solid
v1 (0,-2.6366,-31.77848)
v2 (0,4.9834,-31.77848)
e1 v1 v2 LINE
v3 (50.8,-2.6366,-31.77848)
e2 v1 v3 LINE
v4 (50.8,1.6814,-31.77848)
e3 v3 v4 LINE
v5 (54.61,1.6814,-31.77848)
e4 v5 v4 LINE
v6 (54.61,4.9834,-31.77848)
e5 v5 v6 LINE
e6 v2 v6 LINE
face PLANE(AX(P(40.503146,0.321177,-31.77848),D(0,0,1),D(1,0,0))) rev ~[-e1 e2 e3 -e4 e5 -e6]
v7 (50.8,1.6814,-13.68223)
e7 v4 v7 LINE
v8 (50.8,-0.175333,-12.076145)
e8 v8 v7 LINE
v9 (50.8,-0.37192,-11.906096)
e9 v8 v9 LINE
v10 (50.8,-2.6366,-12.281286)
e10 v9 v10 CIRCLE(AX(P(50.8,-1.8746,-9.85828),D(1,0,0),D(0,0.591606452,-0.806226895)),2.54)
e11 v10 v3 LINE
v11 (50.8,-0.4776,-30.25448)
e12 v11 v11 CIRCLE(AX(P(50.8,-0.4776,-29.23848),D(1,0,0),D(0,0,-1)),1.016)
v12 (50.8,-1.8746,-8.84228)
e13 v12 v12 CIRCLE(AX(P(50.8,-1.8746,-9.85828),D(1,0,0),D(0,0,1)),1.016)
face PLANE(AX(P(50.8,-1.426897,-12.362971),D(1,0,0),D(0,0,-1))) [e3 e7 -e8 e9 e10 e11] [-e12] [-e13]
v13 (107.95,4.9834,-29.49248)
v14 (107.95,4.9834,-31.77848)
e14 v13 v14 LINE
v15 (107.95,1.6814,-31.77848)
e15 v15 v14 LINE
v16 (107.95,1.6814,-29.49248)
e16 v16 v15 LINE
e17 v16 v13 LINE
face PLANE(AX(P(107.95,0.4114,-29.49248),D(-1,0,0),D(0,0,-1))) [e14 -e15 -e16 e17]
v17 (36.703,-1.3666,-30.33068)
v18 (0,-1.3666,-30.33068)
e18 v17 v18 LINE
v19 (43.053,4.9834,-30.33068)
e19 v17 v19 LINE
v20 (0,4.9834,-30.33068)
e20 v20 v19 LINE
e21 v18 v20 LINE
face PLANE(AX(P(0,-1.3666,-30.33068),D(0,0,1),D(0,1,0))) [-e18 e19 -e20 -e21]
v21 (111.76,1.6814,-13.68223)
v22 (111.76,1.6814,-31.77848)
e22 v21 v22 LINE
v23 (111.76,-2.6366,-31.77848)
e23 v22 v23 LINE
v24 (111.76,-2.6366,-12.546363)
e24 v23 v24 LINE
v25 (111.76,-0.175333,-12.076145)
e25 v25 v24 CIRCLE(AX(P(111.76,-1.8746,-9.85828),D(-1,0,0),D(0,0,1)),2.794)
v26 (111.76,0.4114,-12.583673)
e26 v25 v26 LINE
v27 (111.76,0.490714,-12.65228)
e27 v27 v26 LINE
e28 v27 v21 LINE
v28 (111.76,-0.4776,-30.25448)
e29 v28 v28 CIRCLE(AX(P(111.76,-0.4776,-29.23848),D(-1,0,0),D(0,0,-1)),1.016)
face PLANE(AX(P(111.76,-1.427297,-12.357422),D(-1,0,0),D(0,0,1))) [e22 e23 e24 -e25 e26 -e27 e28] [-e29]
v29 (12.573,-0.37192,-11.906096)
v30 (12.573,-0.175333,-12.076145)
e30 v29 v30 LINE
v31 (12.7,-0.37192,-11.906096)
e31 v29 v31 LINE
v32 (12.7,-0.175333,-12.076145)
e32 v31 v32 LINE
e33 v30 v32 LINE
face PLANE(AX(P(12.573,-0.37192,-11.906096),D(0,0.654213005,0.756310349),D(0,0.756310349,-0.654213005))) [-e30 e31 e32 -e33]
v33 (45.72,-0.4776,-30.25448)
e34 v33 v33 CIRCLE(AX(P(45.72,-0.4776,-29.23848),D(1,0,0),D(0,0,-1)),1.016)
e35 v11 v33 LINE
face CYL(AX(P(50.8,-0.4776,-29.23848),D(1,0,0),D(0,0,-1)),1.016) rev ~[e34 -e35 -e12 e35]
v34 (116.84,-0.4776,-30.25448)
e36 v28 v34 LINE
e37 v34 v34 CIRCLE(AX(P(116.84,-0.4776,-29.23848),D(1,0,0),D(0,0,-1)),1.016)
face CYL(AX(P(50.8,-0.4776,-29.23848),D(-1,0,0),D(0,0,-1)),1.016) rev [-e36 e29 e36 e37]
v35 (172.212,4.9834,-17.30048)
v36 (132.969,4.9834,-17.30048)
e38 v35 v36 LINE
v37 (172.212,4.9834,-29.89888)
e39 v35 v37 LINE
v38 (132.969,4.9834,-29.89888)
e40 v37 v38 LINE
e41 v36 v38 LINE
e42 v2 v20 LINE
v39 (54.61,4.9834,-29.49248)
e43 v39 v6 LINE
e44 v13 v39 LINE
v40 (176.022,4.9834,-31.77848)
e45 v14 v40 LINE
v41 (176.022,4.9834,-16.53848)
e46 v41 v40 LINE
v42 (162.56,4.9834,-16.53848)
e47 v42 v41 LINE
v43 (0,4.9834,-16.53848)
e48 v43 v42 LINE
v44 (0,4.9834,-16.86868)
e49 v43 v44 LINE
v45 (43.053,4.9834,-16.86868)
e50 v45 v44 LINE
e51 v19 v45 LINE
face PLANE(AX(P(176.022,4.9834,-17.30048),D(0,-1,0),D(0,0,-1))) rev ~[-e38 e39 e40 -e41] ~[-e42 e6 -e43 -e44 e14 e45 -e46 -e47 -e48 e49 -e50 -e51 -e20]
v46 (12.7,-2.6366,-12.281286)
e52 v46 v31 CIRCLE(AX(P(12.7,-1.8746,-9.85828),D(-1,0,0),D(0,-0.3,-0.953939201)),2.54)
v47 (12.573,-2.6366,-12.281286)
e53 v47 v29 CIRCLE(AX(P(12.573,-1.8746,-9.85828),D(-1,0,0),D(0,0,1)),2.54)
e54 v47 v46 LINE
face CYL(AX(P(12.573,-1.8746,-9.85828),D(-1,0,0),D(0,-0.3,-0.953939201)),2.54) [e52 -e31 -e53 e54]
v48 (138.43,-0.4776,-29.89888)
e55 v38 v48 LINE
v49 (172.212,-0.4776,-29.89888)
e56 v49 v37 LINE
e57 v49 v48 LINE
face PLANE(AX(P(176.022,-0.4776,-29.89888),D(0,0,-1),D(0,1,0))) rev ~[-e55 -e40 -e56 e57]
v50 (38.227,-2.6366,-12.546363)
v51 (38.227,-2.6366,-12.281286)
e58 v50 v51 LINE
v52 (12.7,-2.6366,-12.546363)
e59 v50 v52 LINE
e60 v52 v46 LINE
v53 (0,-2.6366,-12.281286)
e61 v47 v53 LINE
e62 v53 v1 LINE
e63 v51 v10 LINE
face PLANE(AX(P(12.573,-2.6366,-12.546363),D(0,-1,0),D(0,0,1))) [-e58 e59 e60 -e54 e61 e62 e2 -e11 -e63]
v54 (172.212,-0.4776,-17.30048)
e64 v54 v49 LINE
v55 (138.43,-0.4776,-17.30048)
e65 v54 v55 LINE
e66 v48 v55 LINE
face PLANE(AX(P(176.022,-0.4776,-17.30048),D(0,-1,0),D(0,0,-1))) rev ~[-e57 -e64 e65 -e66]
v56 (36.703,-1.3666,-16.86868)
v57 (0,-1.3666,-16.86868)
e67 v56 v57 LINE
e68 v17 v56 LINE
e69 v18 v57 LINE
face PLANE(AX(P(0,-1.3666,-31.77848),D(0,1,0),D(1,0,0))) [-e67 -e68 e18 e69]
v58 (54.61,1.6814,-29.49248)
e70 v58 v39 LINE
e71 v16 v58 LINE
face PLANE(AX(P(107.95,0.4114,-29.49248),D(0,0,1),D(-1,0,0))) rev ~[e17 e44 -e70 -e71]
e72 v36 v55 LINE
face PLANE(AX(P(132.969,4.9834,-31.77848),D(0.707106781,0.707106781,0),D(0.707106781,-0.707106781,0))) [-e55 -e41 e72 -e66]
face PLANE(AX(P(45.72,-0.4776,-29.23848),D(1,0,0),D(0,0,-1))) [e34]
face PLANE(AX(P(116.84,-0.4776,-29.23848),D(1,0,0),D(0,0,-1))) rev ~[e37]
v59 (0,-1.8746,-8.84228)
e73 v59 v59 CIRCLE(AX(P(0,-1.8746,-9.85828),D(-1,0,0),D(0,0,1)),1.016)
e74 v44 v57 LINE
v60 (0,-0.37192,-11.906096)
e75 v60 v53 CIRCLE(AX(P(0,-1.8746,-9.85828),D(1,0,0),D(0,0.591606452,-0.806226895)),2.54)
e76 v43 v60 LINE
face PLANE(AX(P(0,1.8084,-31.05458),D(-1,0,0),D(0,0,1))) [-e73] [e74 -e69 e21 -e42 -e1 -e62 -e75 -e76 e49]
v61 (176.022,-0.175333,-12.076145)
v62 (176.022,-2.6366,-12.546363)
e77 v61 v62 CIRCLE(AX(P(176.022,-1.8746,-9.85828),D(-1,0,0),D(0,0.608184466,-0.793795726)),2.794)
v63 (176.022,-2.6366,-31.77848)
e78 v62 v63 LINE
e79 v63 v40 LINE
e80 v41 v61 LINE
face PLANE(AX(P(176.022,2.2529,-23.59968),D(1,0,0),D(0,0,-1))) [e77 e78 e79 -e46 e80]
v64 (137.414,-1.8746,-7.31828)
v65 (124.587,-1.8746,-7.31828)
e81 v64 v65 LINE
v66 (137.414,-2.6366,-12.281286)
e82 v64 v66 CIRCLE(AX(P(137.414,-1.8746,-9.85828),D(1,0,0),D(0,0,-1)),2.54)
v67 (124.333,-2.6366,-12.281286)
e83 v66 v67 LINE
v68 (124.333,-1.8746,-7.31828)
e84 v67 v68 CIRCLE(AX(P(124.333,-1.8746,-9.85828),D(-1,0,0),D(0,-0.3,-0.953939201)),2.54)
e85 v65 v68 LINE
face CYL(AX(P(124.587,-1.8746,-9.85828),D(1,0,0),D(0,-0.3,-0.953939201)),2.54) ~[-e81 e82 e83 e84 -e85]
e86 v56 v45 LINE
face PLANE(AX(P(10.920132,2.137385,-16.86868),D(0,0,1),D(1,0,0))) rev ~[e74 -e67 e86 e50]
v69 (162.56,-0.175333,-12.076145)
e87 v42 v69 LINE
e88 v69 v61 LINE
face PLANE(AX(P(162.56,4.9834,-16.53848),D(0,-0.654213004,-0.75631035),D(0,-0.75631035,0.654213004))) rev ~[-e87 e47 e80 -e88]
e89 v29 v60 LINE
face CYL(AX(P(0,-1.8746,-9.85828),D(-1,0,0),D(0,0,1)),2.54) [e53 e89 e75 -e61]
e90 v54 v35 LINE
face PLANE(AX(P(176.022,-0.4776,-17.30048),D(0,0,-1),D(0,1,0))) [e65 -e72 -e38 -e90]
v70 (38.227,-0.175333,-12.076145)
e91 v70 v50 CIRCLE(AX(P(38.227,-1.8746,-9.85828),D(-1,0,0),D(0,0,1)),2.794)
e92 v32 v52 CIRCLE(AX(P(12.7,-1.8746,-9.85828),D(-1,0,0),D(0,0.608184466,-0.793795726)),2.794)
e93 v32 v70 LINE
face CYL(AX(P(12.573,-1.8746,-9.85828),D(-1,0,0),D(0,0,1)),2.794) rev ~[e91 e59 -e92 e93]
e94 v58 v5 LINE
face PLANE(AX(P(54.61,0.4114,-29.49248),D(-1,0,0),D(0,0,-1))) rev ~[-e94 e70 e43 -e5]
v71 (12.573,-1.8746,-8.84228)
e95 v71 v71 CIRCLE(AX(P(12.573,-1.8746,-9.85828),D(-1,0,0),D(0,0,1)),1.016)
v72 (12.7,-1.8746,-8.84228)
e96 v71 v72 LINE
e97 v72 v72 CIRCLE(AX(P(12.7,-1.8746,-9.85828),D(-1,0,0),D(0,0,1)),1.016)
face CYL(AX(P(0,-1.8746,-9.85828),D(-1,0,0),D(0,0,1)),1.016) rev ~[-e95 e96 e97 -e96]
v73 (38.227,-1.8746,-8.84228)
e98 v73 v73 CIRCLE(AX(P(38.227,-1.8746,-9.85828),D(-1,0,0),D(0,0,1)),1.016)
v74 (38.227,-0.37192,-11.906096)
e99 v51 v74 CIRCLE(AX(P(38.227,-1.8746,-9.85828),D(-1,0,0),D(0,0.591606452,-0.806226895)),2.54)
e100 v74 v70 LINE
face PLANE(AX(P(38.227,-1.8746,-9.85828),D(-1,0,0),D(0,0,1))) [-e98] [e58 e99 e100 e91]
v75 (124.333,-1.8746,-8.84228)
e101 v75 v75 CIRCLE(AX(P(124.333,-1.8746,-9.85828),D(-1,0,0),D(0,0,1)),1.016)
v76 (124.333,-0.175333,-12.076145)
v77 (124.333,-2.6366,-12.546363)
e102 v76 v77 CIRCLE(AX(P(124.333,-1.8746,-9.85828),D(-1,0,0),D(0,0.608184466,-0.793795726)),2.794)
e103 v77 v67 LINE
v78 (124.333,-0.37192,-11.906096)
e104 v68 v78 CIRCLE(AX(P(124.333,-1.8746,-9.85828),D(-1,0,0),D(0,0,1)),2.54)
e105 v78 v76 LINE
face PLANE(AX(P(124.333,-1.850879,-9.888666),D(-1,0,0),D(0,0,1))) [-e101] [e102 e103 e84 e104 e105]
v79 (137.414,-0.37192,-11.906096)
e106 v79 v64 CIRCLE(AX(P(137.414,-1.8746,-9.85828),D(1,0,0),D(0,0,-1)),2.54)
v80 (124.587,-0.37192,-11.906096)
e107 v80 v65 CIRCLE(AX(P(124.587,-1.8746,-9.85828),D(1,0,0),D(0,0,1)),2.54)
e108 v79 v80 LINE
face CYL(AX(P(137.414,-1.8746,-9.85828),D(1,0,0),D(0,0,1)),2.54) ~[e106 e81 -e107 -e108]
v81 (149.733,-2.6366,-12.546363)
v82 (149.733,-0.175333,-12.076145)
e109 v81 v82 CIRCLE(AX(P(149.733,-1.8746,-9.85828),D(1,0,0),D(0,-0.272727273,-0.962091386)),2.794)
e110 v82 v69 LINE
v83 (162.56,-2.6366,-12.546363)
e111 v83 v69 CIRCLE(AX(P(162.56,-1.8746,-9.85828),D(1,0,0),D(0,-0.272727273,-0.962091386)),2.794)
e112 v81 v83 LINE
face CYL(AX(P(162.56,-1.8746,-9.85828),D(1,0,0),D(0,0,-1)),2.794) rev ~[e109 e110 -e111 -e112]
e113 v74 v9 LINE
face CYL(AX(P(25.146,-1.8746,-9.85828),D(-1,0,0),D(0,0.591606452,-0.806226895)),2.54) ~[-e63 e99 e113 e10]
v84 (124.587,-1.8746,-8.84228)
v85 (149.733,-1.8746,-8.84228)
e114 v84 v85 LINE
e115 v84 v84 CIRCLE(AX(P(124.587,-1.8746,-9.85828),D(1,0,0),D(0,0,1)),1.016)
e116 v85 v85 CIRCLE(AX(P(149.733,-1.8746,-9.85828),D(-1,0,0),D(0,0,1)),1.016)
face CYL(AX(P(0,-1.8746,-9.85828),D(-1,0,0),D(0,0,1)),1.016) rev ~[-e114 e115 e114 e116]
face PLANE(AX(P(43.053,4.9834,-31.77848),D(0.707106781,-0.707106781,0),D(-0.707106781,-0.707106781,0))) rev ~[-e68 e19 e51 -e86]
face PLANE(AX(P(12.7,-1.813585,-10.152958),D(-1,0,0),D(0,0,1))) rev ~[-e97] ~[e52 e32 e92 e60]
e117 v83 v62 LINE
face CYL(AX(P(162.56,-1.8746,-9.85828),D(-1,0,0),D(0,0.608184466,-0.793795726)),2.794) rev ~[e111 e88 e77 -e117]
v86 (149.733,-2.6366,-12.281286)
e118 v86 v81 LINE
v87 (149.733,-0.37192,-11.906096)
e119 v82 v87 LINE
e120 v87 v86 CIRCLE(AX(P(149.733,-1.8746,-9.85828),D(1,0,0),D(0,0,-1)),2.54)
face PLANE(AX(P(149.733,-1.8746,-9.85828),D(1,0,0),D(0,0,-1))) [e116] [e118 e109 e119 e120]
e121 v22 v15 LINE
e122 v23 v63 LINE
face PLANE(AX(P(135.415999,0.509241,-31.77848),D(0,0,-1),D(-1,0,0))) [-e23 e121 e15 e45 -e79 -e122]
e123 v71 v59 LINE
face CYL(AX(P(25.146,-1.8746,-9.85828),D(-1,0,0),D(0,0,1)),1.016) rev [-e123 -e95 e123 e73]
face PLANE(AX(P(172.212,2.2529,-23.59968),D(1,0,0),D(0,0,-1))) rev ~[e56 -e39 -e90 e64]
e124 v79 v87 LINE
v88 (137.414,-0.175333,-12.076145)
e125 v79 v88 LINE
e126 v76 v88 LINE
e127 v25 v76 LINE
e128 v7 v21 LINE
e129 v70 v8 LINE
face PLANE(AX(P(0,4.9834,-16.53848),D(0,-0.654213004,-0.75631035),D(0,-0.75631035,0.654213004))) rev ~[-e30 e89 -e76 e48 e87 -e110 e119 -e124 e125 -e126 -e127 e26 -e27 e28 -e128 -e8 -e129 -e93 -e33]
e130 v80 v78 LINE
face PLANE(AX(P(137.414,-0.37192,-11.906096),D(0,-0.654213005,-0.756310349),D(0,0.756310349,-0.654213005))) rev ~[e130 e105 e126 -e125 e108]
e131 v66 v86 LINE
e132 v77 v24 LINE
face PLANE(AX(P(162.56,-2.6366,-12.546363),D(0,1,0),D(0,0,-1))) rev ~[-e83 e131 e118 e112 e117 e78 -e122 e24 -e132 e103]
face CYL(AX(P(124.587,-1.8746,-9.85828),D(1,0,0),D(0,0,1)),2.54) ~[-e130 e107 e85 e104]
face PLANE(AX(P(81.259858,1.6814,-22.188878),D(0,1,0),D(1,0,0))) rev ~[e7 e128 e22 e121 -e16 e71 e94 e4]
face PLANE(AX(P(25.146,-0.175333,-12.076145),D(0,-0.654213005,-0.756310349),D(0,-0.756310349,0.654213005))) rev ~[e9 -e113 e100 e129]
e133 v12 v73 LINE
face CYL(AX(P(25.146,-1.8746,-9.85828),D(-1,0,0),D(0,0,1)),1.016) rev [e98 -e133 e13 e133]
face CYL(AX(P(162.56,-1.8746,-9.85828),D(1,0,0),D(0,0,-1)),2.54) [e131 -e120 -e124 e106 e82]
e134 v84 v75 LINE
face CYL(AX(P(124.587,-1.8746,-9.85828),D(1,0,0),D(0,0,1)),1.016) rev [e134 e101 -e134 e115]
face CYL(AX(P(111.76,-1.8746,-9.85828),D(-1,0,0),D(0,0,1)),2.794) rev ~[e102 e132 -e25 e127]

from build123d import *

# Parameters (mm, degrees)
SKETCH1_R                = 1.6002
SKETCH1_R_2              = 0.8128
BOSS_EXTRUDE5_DEPTH      = 162.56
CUT_EXTRUDE1_DEPTH       = 14.351
SKETCH3_W                = 0.889
SKETCH3_H                = 5.842
BOSS_EXTRUDE6_DEPTH      = 36.957
SKETCH16_W               = 13.462
SKETCH16_H               = 6.460130881
BOSS_EXTRUDE7_DEPTH      = 33.02
CUT_EXTRUDE4_DEPTH       = 15.24
SKETCH18_W               = 1.778
SKETCH18_H               = 5.842
BOSS_EXTRUDE8_DEPTH      = 38.1
CUT_EXTRUDE5_DEPTH       = 14.224
SKETCH20_W               = 2.1336
SKETCH20_H               = 5.461
BOSS_EXTRUDE9_DEPTH      = 36.322
SKETCH22_R               = 1.4224
CUT_EXTRUDE7_DEPTH       = 20.32
CUT_EXTRUDE7_DEPTH_BACK  = 24.13
SKETCH25_W               = 112.268
SKETCH25_H               = 3.007323321
CUT_EXTRUDE8_DEPTH       = 24.13
SKETCH27_R               = 1.778
CUT_EXTRUDE9_DEPTH       = 112.268
CUT_EXTRUDE12_DEPTH      = 14.224
SKETCH34_W               = 43.053
SKETCH34_H               = 2.1336
BOSS_EXTRUDE14_DEPTH     = 7.112
SKETCH35_R               = 1.4224
CUT_EXTRUDE13_DEPTH      = 7.112
SKETCH37_W               = 60.96
SKETCH37_H               = 15.24
CUT_EXTRUDE14_DEPTH      = 3.048
SKETCH38_R               = 0.8128
CUT_EXTRUDE15_DEPTH      = 5.08
SKETCH39_R               = 0.8128
CUT_EXTRUDE16_DEPTH      = 5.08
SKETCH40_W               = 60.96
SKETCH40_H               = 2.54
CUT_EXTRUDE17_DEPTH      = 3.048
SKETCH41_R               = 1.161307013
BOSS_EXTRUDE15_DEPTH     = 6.604
SKETCH42_R               = 1.020818471
BOSS_EXTRUDE16_DEPTH     = 5.588
SKETCH43_R               = 0.8128
CUT_EXTRUDE18_DEPTH      = 5.08
SKETCH44_R               = 0.8128
CUT_EXTRUDE19_DEPTH      = 5.08
SKETCH46_W               = 60.96
SKETCH46_H               = 9.087986699
CUT_EXTRUDE21_DEPTH      = 3.048
SKETCH47_W               = 53.34
SKETCH47_H               = 2.286
CUT_EXTRUDE22_DEPTH      = 15.24
SKETCH48_R               = 2.54
BOSS_EXTRUDE17_DEPTH     = 25.146
SKETCH49_R               = 2.54
BOSS_EXTRUDE18_DEPTH     = 25.146
SKETCH50_R               = 2.794
CUT_EXTRUDE23_DEPTH      = 112.268
SKETCH51_R               = 1.27
CUT_EXTRUDE24_DEPTH      = 174.498
CUT_EXTRUDE25_DEPTH      = 1.27
SKETCH55_W               = 46.703523857
SKETCH55_H               = 5.873481267
CUT_EXTRUDE26_DEPTH      = 9.144
CUT_EXTRUDE26_DEPTH_BACK = 8.636
SKETCH57_R               = 1.029255476
BOSS_EXTRUDE20_DEPTH     = 5.08
SKETCH58_R               = 1.09273592
BOSS_EXTRUDE21_DEPTH     = 7.112
SKETCH59_R               = 1.016
CUT_EXTRUDE27_DEPTH      = 66.04
CUT_EXTRUDE27_DEPTH_BACK = 5.08
SKETCH60_R               = 1.869467668
SKETCH60_R_2             = 1.016
BOSS_EXTRUDE22_DEPTH     = 162.56
SKETCH61_R               = 2.219373527
CUT_EXTRUDE28_DEPTH      = 112.268
SKETCH62_R               = 1.016
BOSS_EXTRUDE26_DEPTH     = 25.654
SKETCH65_R               = 1.016
BOSS_EXTRUDE27_DEPTH     = 25.654
SKETCH67_R               = 2.794
CUT_EXTRUDE32_DEPTH      = 12.827
SKETCH68_R               = 2.794
CUT_EXTRUDE33_DEPTH      = 12.827
SKETCH72_R               = 2.794
CUT_EXTRUDE34_DEPTH      = 25.654
BOSS_EXTRUDE28_DEPTH     = 0.127
SKETCH77_R               = 1.016
BOSS_EXTRUDE29_DEPTH     = 0.254
SKETCH79_R               = 1.016
CUT_EXTRUDE35_DEPTH      = 15.748
SKETCH87_W               = 23.622
SKETCH87_H               = 13.462
BOSS_EXTRUDE30_DEPTH     = 6.096
CUT_EXTRUDE36_DEPTH      = 14.9098
SKETCH89_W               = 1.4478
SKETCH89_H               = 6.35
BOSS_EXTRUDE31_DEPTH     = 30.6578
SKETCH92_W               = 12.0904
SKETCH92_H               = 7.62
BOSS_EXTRUDE33_DEPTH     = 43.18
BOSS_EXTRUDE34_DEPTH     = 13.462
SKETCH95_W               = 13.462
SKETCH95_H               = 6.35
CUT_EXTRUDE37_DEPTH      = 43.053
BOSS_EXTRUDE35_DEPTH     = 15.113
SKETCH97_W               = 12.5984
SKETCH97_H               = 5.461
CUT_EXTRUDE38_DEPTH      = 43.053
BOSS_EXTRUDE36_DEPTH     = 14.859
SKETCH99_W               = 12.5984
SKETCH99_H               = 5.461
BOSS_EXTRUDE37_DEPTH     = 3.81


with BuildPart() as part:
    # Sketch1 → Boss-Extrude5 (new body)
    with BuildSketch(Plane(origin=(0, 0, 0), x_dir=(0, 0, -1), z_dir=(1, 0, 0))):
        with BuildLine():
            ThreePointArc((11.4584801, -1.874600251), (11.409460099, -2.267640517), (11.265403421, -2.636600251))
            Line((11.265403421, -2.636600251), (11.4584801, -2.636600251))
            Line((11.4584801, -2.636600251), (31.7784801, -2.636600251))
            Line((31.7784801, -2.636600251), (31.7784801, 4.983399749))
            Line((31.7784801, 4.983399749), (16.5384801, 4.983399749))
            Line((16.5384801, 4.983399749), (11.265403421, -1.112600251))
            ThreePointArc((11.265403421, -1.112600251), (11.409460099, -1.481559985), (11.4584801, -1.874600251))
        make_face()
        with Locations((9.8582801, -1.874600251)):
            Circle(SKETCH1_R)
        with Locations((9.8582801, -1.874600251)):
            Circle(SKETCH1_R_2, mode=Mode.SUBTRACT)
    extrude(amount=BOSS_EXTRUDE5_DEPTH)

    # Sketch2 → Cut-Extrude1 (cut)
    with BuildSketch(Plane(origin=(0, 0, -31.7784801), x_dir=(-1, 0, 0), z_dir=(0, 0, -1))):
        Polygon((0, 4.983399749), (0, -0.858600251), (-17.78, -0.858600251), (-23.622, 4.983399749), align=None)
    extrude(amount=-CUT_EXTRUDE1_DEPTH, mode=Mode.SUBTRACT)

    # Sketch3 → Boss-Extrude6 (add)
    with BuildSketch(Plane.ZY):
        with Locations((-31.3339801, 2.062399749)):
            Rectangle(SKETCH3_W, SKETCH3_H)
    extrude(amount=-BOSS_EXTRUDE6_DEPTH)

    # Sketch16 → Boss-Extrude7 (add)
    with BuildSketch(Plane.ZY):
        with Locations((-24.1584801, 1.753334308)):
            Rectangle(SKETCH16_W, SKETCH16_H)
    extrude(amount=-BOSS_EXTRUDE7_DEPTH)

    # Sketch17 → Cut-Extrude4 (cut)
    with BuildSketch(Plane(origin=(0, 0, -31.7784801), x_dir=(-1, 0, 0), z_dir=(0, 0, -1))):
        Polygon((0, 4.983399749), (0, -0.858600251), (-17.78, -0.858600251), (-23.622, 4.983399749), align=None)
    extrude(amount=-CUT_EXTRUDE4_DEPTH, mode=Mode.SUBTRACT)

    # Sketch18 → Boss-Extrude8 (add)
    with BuildSketch(Plane.ZY):
        with Locations((-30.8894801, 2.062399749)):
            Rectangle(SKETCH18_W, SKETCH18_H)
    extrude(amount=-BOSS_EXTRUDE8_DEPTH)

    # Sketch19 → Cut-Extrude5 (cut)
    with BuildSketch(Plane(origin=(0, 0, -31.7784801), x_dir=(-1, 0, 0), z_dir=(0, 0, -1))):
        Polygon((-162.56, 4.983399749), (-162.56, -0.477600251), (-142.24, -0.477600251), (-136.779, 4.983399749), align=None)
    extrude(amount=-CUT_EXTRUDE5_DEPTH, mode=Mode.SUBTRACT)

    # Sketch20 → Boss-Extrude9 (add)
    with BuildSketch(Plane(origin=(162.56, 0, 0), x_dir=(0, 0, -1), z_dir=(1, 0, 0))):
        with Locations((30.7116801, 2.252899749)):
            Rectangle(SKETCH20_W, SKETCH20_H)
    extrude(amount=-BOSS_EXTRUDE9_DEPTH)

    # Sketch22 → Cut-Extrude7 (cut, two sides)
    with BuildSketch(Plane(origin=(0, -0.477600251, 0), x_dir=(1, 0, 0), z_dir=(0, 1, 0))) as cut_extrude7_sk:
        with Locations((145.9484, 26.5714801)):
            Circle(SKETCH22_R)
        with BuildLine():
            ThreePointArc((147.3708, 26.5714801), (146.954188686, 25.565691415), (145.9484, 25.1490801))
            Line((145.9484, 25.1490801), (157.217057139, 25.1490801))
            ThreePointArc((157.217057139, 25.1490801), (155.794657139, 26.5714801), (157.217057139, 27.9938801))
            Line((157.217057139, 27.9938801), (145.9484, 27.9938801))
            ThreePointArc((145.9484, 27.9938801), (146.954188686, 27.577268786), (147.3708, 26.5714801))
        make_face()
        with Locations((157.217057139, 26.5714801)):
            Circle(SKETCH22_R)
        with BuildLine():
            ThreePointArc((157.217057139, 19.1292801), (155.794657139, 20.5516801), (157.217057139, 21.9740801))
            Line((157.217057139, 21.9740801), (145.9484, 21.9740801))
            ThreePointArc((145.9484, 21.9740801), (146.954188686, 21.557468786), (147.3708, 20.5516801))
            ThreePointArc((147.3708, 20.5516801), (146.954188686, 19.545891415), (145.9484, 19.1292801))
            Line((145.9484, 19.1292801), (157.217057139, 19.1292801))
        make_face()
        with Locations((157.217057139, 20.5516801)):
            Circle(SKETCH22_R)
        with Locations((145.9484, 20.5516801)):
            Circle(SKETCH22_R)
    extrude(amount=CUT_EXTRUDE7_DEPTH, mode=Mode.SUBTRACT)
    extrude(cut_extrude7_sk.sketch, amount=-CUT_EXTRUDE7_DEPTH_BACK, mode=Mode.SUBTRACT)

    # Sketch25 → Cut-Extrude8 (cut)
    with BuildSketch(Plane(origin=(0, 4.983399749, 0), x_dir=(1, 0, 0), z_dir=(0, 1, 0))):
        with Locations((81.28, 9.761741761)):
            Rectangle(SKETCH25_W, SKETCH25_H)
    extrude(amount=-CUT_EXTRUDE8_DEPTH, mode=Mode.SUBTRACT)

    # Sketch27 → Cut-Extrude9 (cut)
    with BuildSketch(Plane.ZY.offset(-137.414)):
        with Locations((-9.8582801, -1.874600251)):
            Circle(SKETCH27_R)
    extrude(amount=CUT_EXTRUDE9_DEPTH, mode=Mode.SUBTRACT)

    # Sketch31 → Cut-Extrude12 (cut)
    with BuildSketch(Plane(origin=(0, 0, -31.7784801), x_dir=(-1, 0, 0), z_dir=(0, 0, -1))):
        Polygon((-162.56, 4.983399749), (-162.56, -0.477600251), (-124.968, -0.477600251), (-119.507, 4.983399749), (-124.079, 4.983399749), align=None)
    extrude(amount=-CUT_EXTRUDE12_DEPTH, mode=Mode.SUBTRACT)

    # Sketch34 → Boss-Extrude14 (add)
    with BuildSketch(Plane(origin=(0, 4.983399749, 0), x_dir=(1, 0, 0), z_dir=(0, 1, 0))):
        with Locations((141.0335, 30.7116801)):
            Rectangle(SKETCH34_W, SKETCH34_H)
    extrude(amount=-BOSS_EXTRUDE14_DEPTH)

    # Sketch35 → Cut-Extrude13 (cut)
    with BuildSketch(Plane(origin=(0, -0.477600251, 0), x_dir=(1, 0, 0), z_dir=(0, 1, 0))):
        with BuildLine():
            Line((130.048, 25.1490801), (145.9484, 25.1490801))
            ThreePointArc((145.9484, 25.1490801), (144.526, 26.5714801), (145.9484, 27.9938801))
            Line((145.9484, 27.9938801), (130.048, 27.9938801))
            ThreePointArc((130.048, 27.9938801), (131.053788686, 27.577268786), (131.4704, 26.5714801))
            ThreePointArc((131.4704, 26.5714801), (131.053788686, 25.565691415), (130.048, 25.1490801))
        make_face()
        with BuildLine():
            ThreePointArc((145.9484, 19.1292801), (144.526, 20.5516801), (145.9484, 21.9740801))
            Line((145.9484, 21.9740801), (130.048, 21.9740801))
            ThreePointArc((130.048, 21.9740801), (131.053788686, 21.557468786), (131.4704, 20.5516801))
            ThreePointArc((131.4704, 20.5516801), (131.053788686, 19.545891415), (130.048, 19.1292801))
            Line((130.048, 19.1292801), (145.9484, 19.1292801))
        make_face()
        with Locations((130.048, 20.5516801)):
            Circle(SKETCH35_R)
        with Locations((130.048, 26.5714801)):
            Circle(SKETCH35_R)
    extrude(amount=-CUT_EXTRUDE13_DEPTH, mode=Mode.SUBTRACT)

    # Sketch37 → Cut-Extrude14 (cut)
    with BuildSketch(Plane(origin=(0, -2.636600251, 0), x_dir=(-1, 0, 0), z_dir=(0, -1, 0))):
        with Locations((-81.28, 21.6184801)):
            Rectangle(SKETCH37_W, SKETCH37_H)
    extrude(amount=-CUT_EXTRUDE14_DEPTH, mode=Mode.SUBTRACT)

    # Sketch38 → Cut-Extrude15 (cut)
    with BuildSketch(Plane.ZY.offset(-111.76)):
        with Locations((-27.9684801, -1.112600251)):
            Circle(SKETCH38_R)
    extrude(amount=-CUT_EXTRUDE15_DEPTH, mode=Mode.SUBTRACT)

    # Sketch39 → Cut-Extrude16 (cut)
    with BuildSketch(Plane(origin=(50.8, 0, 0), x_dir=(0, 0, -1), z_dir=(1, 0, 0))):
        with Locations(Location((27.9684801, -1.112600251, 0), (0, 0, 180))):
            Circle(SKETCH39_R)
    extrude(amount=-CUT_EXTRUDE16_DEPTH, mode=Mode.SUBTRACT)

    # Sketch40 → Cut-Extrude17 (cut)
    with BuildSketch(Plane(origin=(0, -2.636600251, 0), x_dir=(-1, 0, 0), z_dir=(0, -1, 0))):
        with Locations((-81.28, 30.5084801)):
            Rectangle(SKETCH40_W, SKETCH40_H)
    extrude(amount=-CUT_EXTRUDE17_DEPTH, mode=Mode.SUBTRACT)

    # Sketch41 → Boss-Extrude15 (add)
    with BuildSketch(Plane(origin=(50.8, 0, 0), x_dir=(0, 0, -1), z_dir=(1, 0, 0))):
        with Locations((27.9684801, -1.112600251)):
            Circle(SKETCH41_R)
    extrude(amount=-BOSS_EXTRUDE15_DEPTH)

    # Sketch42 → Boss-Extrude16 (add)
    with BuildSketch(Plane.ZY.offset(-111.76)):
        with Locations((-27.9684801, -1.112600251)):
            Circle(SKETCH42_R)
    extrude(amount=-BOSS_EXTRUDE16_DEPTH)

    # Sketch43 → Cut-Extrude18 (cut)
    with BuildSketch(Plane(origin=(50.8, 0, 0), x_dir=(0, 0, -1), z_dir=(1, 0, 0))):
        with Locations((30.5084801, -1.112600251)):
            Circle(SKETCH43_R)
    extrude(amount=-CUT_EXTRUDE18_DEPTH, mode=Mode.SUBTRACT)

    # Sketch44 → Cut-Extrude19 (cut)
    with BuildSketch(Plane.ZY.offset(-111.76)):
        with Locations(Location((-30.5084801, -1.112600251, 0), (0, 0, 180))):
            Circle(SKETCH44_R)
    extrude(amount=-CUT_EXTRUDE19_DEPTH, mode=Mode.SUBTRACT)

    # Sketch46 → Cut-Extrude21 (cut)
    with BuildSketch(Plane(origin=(0, -2.636600251, 0), x_dir=(-1, 0, 0), z_dir=(0, -1, 0))):
        with Locations((-81.28, 9.45448675)):
            Rectangle(SKETCH46_W, SKETCH46_H)
    extrude(amount=-CUT_EXTRUDE21_DEPTH, mode=Mode.SUBTRACT)

    # Sketch47 → Cut-Extrude22 (cut)
    with BuildSketch(Plane(origin=(0, 0.411399749, 0), x_dir=(-1, 0, 0), z_dir=(0, -1, 0))):
        with Locations((-81.28, 30.6354801)):
            Rectangle(SKETCH47_W, SKETCH47_H)
    extrude(amount=-CUT_EXTRUDE22_DEPTH, mode=Mode.SUBTRACT)

    # Sketch48 → Boss-Extrude17 (add)
    with BuildSketch(Plane.ZY):
        with Locations((-9.8582801, -1.874600251)):
            Circle(SKETCH48_R)
    extrude(amount=-BOSS_EXTRUDE17_DEPTH)

    # Sketch49 → Boss-Extrude18 (add)
    with BuildSketch(Plane(origin=(162.56, 0, 0), x_dir=(0, 0, -1), z_dir=(1, 0, 0))):
        with Locations((9.8582801, -1.874600251)):
            Circle(SKETCH49_R)
    extrude(amount=-BOSS_EXTRUDE18_DEPTH)

    # Sketch50 → Cut-Extrude23 (cut)
    with BuildSketch(Plane.ZY.offset(-137.414)):
        with Locations((-9.8582801, -1.874600251)):
            Circle(SKETCH50_R)
    extrude(amount=CUT_EXTRUDE23_DEPTH, mode=Mode.SUBTRACT)

    # Sketch51 → Cut-Extrude24 (cut)
    with BuildSketch(Plane(origin=(162.56, 0, 0), x_dir=(0, 0, -1), z_dir=(1, 0, 0))):
        with Locations((9.8582801, -1.874600251)):
            Circle(SKETCH51_R)
    extrude(amount=-CUT_EXTRUDE24_DEPTH, mode=Mode.SUBTRACT)

    # Sketch52 → Cut-Extrude25 (cut)
    with BuildSketch(Plane(origin=(0, 0.411399749, 0), x_dir=(-1, 0, 0), z_dir=(0, -1, 0))):
        Polygon((-50.8, 31.7784801), (-50.8, 12.546363432), (-111.76, 12.6522801), (-111.76, 31.7784801), align=None)
    extrude(amount=-CUT_EXTRUDE25_DEPTH, mode=Mode.SUBTRACT)

    # Sketch55 → Cut-Extrude26 (cut, two sides)
    with BuildSketch(Plane.XZ.offset(2.636600251)) as cut_extrude26_sk:
        with Locations((88.408238071, -10.745489599)):
            Rectangle(SKETCH55_W, SKETCH55_H)
    extrude(amount=CUT_EXTRUDE26_DEPTH, mode=Mode.SUBTRACT)
    extrude(cut_extrude26_sk.sketch, amount=-CUT_EXTRUDE26_DEPTH_BACK, mode=Mode.SUBTRACT)

    # Sketch57 → Boss-Extrude20 (add)
    with BuildSketch(Plane(origin=(45.72, 0, 0), x_dir=(0, 0, -1), z_dir=(1, 0, 0))):
        with Locations((30.5084801, -1.112600251)):
            Circle(SKETCH57_R)
    extrude(amount=BOSS_EXTRUDE20_DEPTH)

    # Sketch58 → Boss-Extrude21 (add)
    with BuildSketch(Plane.ZY.offset(-111.76)):
        with Locations((-30.5084801, -1.112600251)):
            Circle(SKETCH58_R)
    extrude(amount=-BOSS_EXTRUDE21_DEPTH)

    # Sketch59 → Cut-Extrude27 (cut, two sides)
    with BuildSketch(Plane(origin=(50.8, 0, 0), x_dir=(0, 0, -1), z_dir=(1, 0, 0))) as cut_extrude27_sk:
        with Locations((29.2384801, -0.477600251)):
            Circle(SKETCH59_R)
    extrude(amount=CUT_EXTRUDE27_DEPTH, mode=Mode.SUBTRACT)
    extrude(cut_extrude27_sk.sketch, amount=-CUT_EXTRUDE27_DEPTH_BACK, mode=Mode.SUBTRACT)

    # Sketch60 → Boss-Extrude22 (add)
    with BuildSketch(Plane.ZY):
        with Locations((-9.8582801, -1.874600251)):
            Circle(SKETCH60_R)
        with Locations((-9.8582801, -1.874600251)):
            Circle(SKETCH60_R_2, mode=Mode.SUBTRACT)
    extrude(amount=-BOSS_EXTRUDE22_DEPTH)

    # Sketch61 → Cut-Extrude28 (cut)
    with BuildSketch(Plane.ZY.offset(-137.414)):
        with Locations((-9.8582801, -1.874600251)):
            Circle(SKETCH61_R)
    extrude(amount=CUT_EXTRUDE28_DEPTH, mode=Mode.SUBTRACT)

    # Sketch62 → Boss-Extrude26 (add)
    with BuildSketch(Plane(origin=(25.146, 0, 0), x_dir=(0, 0, -1), z_dir=(1, 0, 0))):
        with BuildLine():
            Line((12.07614536, -0.175332853), (11.906096413, -0.371919863))
            ThreePointArc((11.906096413, -0.371919863), (12.272100043, -1.083984489), (12.3982801, -1.874600251))
            ThreePointArc((12.3982801, -1.874600251), (12.368861124, -2.260064807), (12.281285672, -2.636600251))
            Line((12.281285672, -2.636600251), (12.546363432, -2.636600251))
            ThreePointArc((12.546363432, -2.636600251), (12.602645637, -1.350297092), (12.07614536, -0.175332853))
        make_face()
        with BuildLine():
            ThreePointArc((12.3982801, -1.874600251), (12.272100043, -1.083984489), (11.906096413, -0.371919863))
            ThreePointArc((11.906096413, -0.371919863), (7.352435653, -2.289743123), (12.281285672, -2.636600251))
            ThreePointArc((12.281285672, -2.636600251), (12.368861124, -2.260064807), (12.3982801, -1.874600251))
        make_face()
        with Locations(Location((9.8582801, -1.874600251, 0), (0, 0, 180))):
            Circle(SKETCH62_R, mode=Mode.SUBTRACT)
    extrude(amount=BOSS_EXTRUDE26_DEPTH)

    # Sketch65 → Boss-Extrude27 (add)
    with BuildSketch(Plane.ZY.offset(-137.414)):
        with BuildLine():
            ThreePointArc((-12.281285672, -2.636600251), (-12.364124548, -1.459457379), (-11.906096413, -0.371919863))
            Line((-11.906096413, -0.371919863), (-12.07614536, -0.175332853))
            ThreePointArc((-12.07614536, -0.175332853), (-12.602645637, -1.350297092), (-12.546363432, -2.636600251))
            Line((-12.546363432, -2.636600251), (-12.281285672, -2.636600251))
        make_face()
        with BuildLine():
            ThreePointArc((-7.3182801, -1.874600251), (-9.067664339, 0.539219692), (-11.906096413, -0.371919863))
            ThreePointArc((-11.906096413, -0.371919863), (-12.364124548, -1.459457379), (-12.281285672, -2.636600251))
            ThreePointArc((-12.281285672, -2.636600251), (-9.472815544, -4.385181275), (-7.3182801, -1.874600251))
        make_face()
        with Locations((-9.8582801, -1.874600251)):
            Circle(SKETCH65_R, mode=Mode.SUBTRACT)
    extrude(amount=BOSS_EXTRUDE27_DEPTH)

    # Sketch67 → Cut-Extrude32 (cut)
    with BuildSketch(Plane(origin=(162.56, 0, 0), x_dir=(0, 0, -1), z_dir=(1, 0, 0))):
        with Locations((9.8582801, -1.874600251)):
            Circle(SKETCH67_R)
    extrude(amount=-CUT_EXTRUDE32_DEPTH, mode=Mode.SUBTRACT)

    # Sketch68 → Cut-Extrude33 (cut)
    with BuildSketch(Plane.ZY.offset(-111.76)):
        with Locations((-9.8582801, -1.874600251)):
            Circle(SKETCH68_R)
    extrude(amount=-CUT_EXTRUDE33_DEPTH, mode=Mode.SUBTRACT)

    # Sketch72 → Cut-Extrude34 (cut)
    with BuildSketch(Plane.ZY.offset(-12.573)):
        with Locations((-9.8582801, -1.874600251)):
            Circle(SKETCH72_R)
    extrude(amount=-CUT_EXTRUDE34_DEPTH, mode=Mode.SUBTRACT)

    # Sketch74 → Boss-Extrude28 (add)
    with BuildSketch(Plane.ZY.offset(-12.573)):
        with BuildLine():
            Line((-12.546363432, -2.636600251), (-12.281285672, -2.636600251))
            ThreePointArc((-12.281285672, -2.636600251), (-7.352435653, -2.289743123), (-11.906096413, -0.371919863))
            Line((-11.906096413, -0.371919863), (-12.07614536, -0.175332853))
            ThreePointArc((-12.07614536, -0.175332853), (-12.602645637, -1.350297092), (-12.546363432, -2.636600251))
        make_face()
    extrude(amount=-BOSS_EXTRUDE28_DEPTH)

    # Sketch77 → Boss-Extrude29 (add)
    with BuildSketch(Plane.ZY.offset(-124.587)):
        with BuildLine():
            ThreePointArc((-11.906096413, -0.371919863), (-12.364124548, -1.459457379), (-12.281285672, -2.636600251))
            ThreePointArc((-12.281285672, -2.636600251), (-9.472815544, -4.385181275), (-7.3182801, -1.874600251))
            ThreePointArc((-7.3182801, -1.874600251), (-9.067664339, 0.539219692), (-11.906096413, -0.371919863))
        make_face()
        with Locations((-9.8582801, -1.874600251)):
            Circle(SKETCH77_R, mode=Mode.SUBTRACT)
        with BuildLine():
            Line((-12.546363432, -2.636600251), (-12.281285672, -2.636600251))
            ThreePointArc((-12.281285672, -2.636600251), (-12.364124548, -1.459457379), (-11.906096413, -0.371919863))
            Line((-11.906096413, -0.371919863), (-12.07614536, -0.175332853))
            ThreePointArc((-12.07614536, -0.175332853), (-12.602645637, -1.350297092), (-12.546363432, -2.636600251))
        make_face()
    extrude(amount=BOSS_EXTRUDE29_DEPTH)

    # Sketch79 → Cut-Extrude35 (cut)
    with BuildSketch(Plane.ZY):
        with Locations((-9.8582801, -1.874600251)):
            Circle(SKETCH79_R)
    extrude(amount=-CUT_EXTRUDE35_DEPTH, mode=Mode.SUBTRACT)

    # Sketch87 → Boss-Extrude30 (add)
    with BuildSketch(Plane(origin=(0, 4.983399749, 0), x_dir=(1, 0, 0), z_dir=(0, 1, 0))):
        with Locations((11.811, 23.2694801)):
            Rectangle(SKETCH87_W, SKETCH87_H)
    extrude(amount=-BOSS_EXTRUDE30_DEPTH)

    # Sketch88 → Cut-Extrude36 (cut)
    with BuildSketch(Plane(origin=(0, 0, -31.7784801), x_dir=(-1, 0, 0), z_dir=(0, 0, -1))):
        Polygon((0, 4.983399749), (0, -1.366600251), (-17.78, -1.366600251), (-23.622, 4.983399749), align=None)
    extrude(amount=-CUT_EXTRUDE36_DEPTH, mode=Mode.SUBTRACT)

    # Sketch89 → Boss-Extrude31 (add)
    with BuildSketch(Plane.ZY):
        with Locations((-31.0545801, 1.808399749)):
            Rectangle(SKETCH89_W, SKETCH89_H)
    extrude(amount=-BOSS_EXTRUDE31_DEPTH)

    # Sketch92 → Boss-Extrude33 (add)
    with BuildSketch(Plane(origin=(162.56, 0, 0), x_dir=(0, 0, -1), z_dir=(1, 0, 0))):
        with Locations((23.5996801, 1.173399749)):
            Rectangle(SKETCH92_W, SKETCH92_H)
    extrude(amount=-BOSS_EXTRUDE33_DEPTH)

    # Sketch94 → Boss-Extrude34 (add)
    with BuildSketch(Plane(origin=(162.56, 0, 0), x_dir=(0, 0, -1), z_dir=(1, 0, 0))):
        with BuildLine():
            ThreePointArc((12.07614536, -0.175332853), (12.602645637, -1.350297092), (12.546363432, -2.636600251))
            Line((12.546363432, -2.636600251), (31.7784801, -2.636600251))
            Line((31.7784801, -2.636600251), (31.7784801, 4.983399749))
            Line((31.7784801, 4.983399749), (16.5384801, 4.983399749))
            Line((16.5384801, 4.983399749), (12.07614536, -0.175332853))
        make_face()
    extrude(amount=BOSS_EXTRUDE34_DEPTH)

    # Sketch95 → Cut-Extrude37 (cut)
    with BuildSketch(Plane.ZY):
        with Locations((-23.5996801, 1.808399749)):
            Rectangle(SKETCH95_W, SKETCH95_H)
    extrude(amount=-CUT_EXTRUDE37_DEPTH, mode=Mode.SUBTRACT)

    # Sketch96 → Boss-Extrude35 (add)
    with BuildSketch(Plane(origin=(0, 0, -31.7784801), x_dir=(-1, 0, 0), z_dir=(0, 0, -1))):
        Polygon((-35.840922937, -2.228677314), (-43.053, -2.228677314), (-43.053, 4.983399749), align=None)
    extrude(amount=-BOSS_EXTRUDE35_DEPTH)

    # Sketch97 → Cut-Extrude38 (cut)
    with BuildSketch(Plane(origin=(176.022, 0, 0), x_dir=(0, 0, -1), z_dir=(1, 0, 0))):
        with Locations((23.5996801, 2.252899749)):
            Rectangle(SKETCH97_W, SKETCH97_H)
    extrude(amount=-CUT_EXTRUDE38_DEPTH, mode=Mode.SUBTRACT)

    # Sketch98 → Boss-Extrude36 (add)
    with BuildSketch(Plane(origin=(0, 0, -31.7784801), x_dir=(-1, 0, 0), z_dir=(0, 0, -1))):
        Polygon((-132.969, 4.983399749), (-139.89015762, -1.937757871), (-132.969, -1.937757871), align=None)
    extrude(amount=-BOSS_EXTRUDE36_DEPTH)

    # Sketch99 → Boss-Extrude37 (add)
    with BuildSketch(Plane(origin=(176.022, 0, 0), x_dir=(0, 0, -1), z_dir=(1, 0, 0))):
        with Locations((23.5996801, 2.252899749)):
            Rectangle(SKETCH99_W, SKETCH99_H)
    extrude(amount=-BOSS_EXTRUDE37_DEPTH)


solid = part.part
